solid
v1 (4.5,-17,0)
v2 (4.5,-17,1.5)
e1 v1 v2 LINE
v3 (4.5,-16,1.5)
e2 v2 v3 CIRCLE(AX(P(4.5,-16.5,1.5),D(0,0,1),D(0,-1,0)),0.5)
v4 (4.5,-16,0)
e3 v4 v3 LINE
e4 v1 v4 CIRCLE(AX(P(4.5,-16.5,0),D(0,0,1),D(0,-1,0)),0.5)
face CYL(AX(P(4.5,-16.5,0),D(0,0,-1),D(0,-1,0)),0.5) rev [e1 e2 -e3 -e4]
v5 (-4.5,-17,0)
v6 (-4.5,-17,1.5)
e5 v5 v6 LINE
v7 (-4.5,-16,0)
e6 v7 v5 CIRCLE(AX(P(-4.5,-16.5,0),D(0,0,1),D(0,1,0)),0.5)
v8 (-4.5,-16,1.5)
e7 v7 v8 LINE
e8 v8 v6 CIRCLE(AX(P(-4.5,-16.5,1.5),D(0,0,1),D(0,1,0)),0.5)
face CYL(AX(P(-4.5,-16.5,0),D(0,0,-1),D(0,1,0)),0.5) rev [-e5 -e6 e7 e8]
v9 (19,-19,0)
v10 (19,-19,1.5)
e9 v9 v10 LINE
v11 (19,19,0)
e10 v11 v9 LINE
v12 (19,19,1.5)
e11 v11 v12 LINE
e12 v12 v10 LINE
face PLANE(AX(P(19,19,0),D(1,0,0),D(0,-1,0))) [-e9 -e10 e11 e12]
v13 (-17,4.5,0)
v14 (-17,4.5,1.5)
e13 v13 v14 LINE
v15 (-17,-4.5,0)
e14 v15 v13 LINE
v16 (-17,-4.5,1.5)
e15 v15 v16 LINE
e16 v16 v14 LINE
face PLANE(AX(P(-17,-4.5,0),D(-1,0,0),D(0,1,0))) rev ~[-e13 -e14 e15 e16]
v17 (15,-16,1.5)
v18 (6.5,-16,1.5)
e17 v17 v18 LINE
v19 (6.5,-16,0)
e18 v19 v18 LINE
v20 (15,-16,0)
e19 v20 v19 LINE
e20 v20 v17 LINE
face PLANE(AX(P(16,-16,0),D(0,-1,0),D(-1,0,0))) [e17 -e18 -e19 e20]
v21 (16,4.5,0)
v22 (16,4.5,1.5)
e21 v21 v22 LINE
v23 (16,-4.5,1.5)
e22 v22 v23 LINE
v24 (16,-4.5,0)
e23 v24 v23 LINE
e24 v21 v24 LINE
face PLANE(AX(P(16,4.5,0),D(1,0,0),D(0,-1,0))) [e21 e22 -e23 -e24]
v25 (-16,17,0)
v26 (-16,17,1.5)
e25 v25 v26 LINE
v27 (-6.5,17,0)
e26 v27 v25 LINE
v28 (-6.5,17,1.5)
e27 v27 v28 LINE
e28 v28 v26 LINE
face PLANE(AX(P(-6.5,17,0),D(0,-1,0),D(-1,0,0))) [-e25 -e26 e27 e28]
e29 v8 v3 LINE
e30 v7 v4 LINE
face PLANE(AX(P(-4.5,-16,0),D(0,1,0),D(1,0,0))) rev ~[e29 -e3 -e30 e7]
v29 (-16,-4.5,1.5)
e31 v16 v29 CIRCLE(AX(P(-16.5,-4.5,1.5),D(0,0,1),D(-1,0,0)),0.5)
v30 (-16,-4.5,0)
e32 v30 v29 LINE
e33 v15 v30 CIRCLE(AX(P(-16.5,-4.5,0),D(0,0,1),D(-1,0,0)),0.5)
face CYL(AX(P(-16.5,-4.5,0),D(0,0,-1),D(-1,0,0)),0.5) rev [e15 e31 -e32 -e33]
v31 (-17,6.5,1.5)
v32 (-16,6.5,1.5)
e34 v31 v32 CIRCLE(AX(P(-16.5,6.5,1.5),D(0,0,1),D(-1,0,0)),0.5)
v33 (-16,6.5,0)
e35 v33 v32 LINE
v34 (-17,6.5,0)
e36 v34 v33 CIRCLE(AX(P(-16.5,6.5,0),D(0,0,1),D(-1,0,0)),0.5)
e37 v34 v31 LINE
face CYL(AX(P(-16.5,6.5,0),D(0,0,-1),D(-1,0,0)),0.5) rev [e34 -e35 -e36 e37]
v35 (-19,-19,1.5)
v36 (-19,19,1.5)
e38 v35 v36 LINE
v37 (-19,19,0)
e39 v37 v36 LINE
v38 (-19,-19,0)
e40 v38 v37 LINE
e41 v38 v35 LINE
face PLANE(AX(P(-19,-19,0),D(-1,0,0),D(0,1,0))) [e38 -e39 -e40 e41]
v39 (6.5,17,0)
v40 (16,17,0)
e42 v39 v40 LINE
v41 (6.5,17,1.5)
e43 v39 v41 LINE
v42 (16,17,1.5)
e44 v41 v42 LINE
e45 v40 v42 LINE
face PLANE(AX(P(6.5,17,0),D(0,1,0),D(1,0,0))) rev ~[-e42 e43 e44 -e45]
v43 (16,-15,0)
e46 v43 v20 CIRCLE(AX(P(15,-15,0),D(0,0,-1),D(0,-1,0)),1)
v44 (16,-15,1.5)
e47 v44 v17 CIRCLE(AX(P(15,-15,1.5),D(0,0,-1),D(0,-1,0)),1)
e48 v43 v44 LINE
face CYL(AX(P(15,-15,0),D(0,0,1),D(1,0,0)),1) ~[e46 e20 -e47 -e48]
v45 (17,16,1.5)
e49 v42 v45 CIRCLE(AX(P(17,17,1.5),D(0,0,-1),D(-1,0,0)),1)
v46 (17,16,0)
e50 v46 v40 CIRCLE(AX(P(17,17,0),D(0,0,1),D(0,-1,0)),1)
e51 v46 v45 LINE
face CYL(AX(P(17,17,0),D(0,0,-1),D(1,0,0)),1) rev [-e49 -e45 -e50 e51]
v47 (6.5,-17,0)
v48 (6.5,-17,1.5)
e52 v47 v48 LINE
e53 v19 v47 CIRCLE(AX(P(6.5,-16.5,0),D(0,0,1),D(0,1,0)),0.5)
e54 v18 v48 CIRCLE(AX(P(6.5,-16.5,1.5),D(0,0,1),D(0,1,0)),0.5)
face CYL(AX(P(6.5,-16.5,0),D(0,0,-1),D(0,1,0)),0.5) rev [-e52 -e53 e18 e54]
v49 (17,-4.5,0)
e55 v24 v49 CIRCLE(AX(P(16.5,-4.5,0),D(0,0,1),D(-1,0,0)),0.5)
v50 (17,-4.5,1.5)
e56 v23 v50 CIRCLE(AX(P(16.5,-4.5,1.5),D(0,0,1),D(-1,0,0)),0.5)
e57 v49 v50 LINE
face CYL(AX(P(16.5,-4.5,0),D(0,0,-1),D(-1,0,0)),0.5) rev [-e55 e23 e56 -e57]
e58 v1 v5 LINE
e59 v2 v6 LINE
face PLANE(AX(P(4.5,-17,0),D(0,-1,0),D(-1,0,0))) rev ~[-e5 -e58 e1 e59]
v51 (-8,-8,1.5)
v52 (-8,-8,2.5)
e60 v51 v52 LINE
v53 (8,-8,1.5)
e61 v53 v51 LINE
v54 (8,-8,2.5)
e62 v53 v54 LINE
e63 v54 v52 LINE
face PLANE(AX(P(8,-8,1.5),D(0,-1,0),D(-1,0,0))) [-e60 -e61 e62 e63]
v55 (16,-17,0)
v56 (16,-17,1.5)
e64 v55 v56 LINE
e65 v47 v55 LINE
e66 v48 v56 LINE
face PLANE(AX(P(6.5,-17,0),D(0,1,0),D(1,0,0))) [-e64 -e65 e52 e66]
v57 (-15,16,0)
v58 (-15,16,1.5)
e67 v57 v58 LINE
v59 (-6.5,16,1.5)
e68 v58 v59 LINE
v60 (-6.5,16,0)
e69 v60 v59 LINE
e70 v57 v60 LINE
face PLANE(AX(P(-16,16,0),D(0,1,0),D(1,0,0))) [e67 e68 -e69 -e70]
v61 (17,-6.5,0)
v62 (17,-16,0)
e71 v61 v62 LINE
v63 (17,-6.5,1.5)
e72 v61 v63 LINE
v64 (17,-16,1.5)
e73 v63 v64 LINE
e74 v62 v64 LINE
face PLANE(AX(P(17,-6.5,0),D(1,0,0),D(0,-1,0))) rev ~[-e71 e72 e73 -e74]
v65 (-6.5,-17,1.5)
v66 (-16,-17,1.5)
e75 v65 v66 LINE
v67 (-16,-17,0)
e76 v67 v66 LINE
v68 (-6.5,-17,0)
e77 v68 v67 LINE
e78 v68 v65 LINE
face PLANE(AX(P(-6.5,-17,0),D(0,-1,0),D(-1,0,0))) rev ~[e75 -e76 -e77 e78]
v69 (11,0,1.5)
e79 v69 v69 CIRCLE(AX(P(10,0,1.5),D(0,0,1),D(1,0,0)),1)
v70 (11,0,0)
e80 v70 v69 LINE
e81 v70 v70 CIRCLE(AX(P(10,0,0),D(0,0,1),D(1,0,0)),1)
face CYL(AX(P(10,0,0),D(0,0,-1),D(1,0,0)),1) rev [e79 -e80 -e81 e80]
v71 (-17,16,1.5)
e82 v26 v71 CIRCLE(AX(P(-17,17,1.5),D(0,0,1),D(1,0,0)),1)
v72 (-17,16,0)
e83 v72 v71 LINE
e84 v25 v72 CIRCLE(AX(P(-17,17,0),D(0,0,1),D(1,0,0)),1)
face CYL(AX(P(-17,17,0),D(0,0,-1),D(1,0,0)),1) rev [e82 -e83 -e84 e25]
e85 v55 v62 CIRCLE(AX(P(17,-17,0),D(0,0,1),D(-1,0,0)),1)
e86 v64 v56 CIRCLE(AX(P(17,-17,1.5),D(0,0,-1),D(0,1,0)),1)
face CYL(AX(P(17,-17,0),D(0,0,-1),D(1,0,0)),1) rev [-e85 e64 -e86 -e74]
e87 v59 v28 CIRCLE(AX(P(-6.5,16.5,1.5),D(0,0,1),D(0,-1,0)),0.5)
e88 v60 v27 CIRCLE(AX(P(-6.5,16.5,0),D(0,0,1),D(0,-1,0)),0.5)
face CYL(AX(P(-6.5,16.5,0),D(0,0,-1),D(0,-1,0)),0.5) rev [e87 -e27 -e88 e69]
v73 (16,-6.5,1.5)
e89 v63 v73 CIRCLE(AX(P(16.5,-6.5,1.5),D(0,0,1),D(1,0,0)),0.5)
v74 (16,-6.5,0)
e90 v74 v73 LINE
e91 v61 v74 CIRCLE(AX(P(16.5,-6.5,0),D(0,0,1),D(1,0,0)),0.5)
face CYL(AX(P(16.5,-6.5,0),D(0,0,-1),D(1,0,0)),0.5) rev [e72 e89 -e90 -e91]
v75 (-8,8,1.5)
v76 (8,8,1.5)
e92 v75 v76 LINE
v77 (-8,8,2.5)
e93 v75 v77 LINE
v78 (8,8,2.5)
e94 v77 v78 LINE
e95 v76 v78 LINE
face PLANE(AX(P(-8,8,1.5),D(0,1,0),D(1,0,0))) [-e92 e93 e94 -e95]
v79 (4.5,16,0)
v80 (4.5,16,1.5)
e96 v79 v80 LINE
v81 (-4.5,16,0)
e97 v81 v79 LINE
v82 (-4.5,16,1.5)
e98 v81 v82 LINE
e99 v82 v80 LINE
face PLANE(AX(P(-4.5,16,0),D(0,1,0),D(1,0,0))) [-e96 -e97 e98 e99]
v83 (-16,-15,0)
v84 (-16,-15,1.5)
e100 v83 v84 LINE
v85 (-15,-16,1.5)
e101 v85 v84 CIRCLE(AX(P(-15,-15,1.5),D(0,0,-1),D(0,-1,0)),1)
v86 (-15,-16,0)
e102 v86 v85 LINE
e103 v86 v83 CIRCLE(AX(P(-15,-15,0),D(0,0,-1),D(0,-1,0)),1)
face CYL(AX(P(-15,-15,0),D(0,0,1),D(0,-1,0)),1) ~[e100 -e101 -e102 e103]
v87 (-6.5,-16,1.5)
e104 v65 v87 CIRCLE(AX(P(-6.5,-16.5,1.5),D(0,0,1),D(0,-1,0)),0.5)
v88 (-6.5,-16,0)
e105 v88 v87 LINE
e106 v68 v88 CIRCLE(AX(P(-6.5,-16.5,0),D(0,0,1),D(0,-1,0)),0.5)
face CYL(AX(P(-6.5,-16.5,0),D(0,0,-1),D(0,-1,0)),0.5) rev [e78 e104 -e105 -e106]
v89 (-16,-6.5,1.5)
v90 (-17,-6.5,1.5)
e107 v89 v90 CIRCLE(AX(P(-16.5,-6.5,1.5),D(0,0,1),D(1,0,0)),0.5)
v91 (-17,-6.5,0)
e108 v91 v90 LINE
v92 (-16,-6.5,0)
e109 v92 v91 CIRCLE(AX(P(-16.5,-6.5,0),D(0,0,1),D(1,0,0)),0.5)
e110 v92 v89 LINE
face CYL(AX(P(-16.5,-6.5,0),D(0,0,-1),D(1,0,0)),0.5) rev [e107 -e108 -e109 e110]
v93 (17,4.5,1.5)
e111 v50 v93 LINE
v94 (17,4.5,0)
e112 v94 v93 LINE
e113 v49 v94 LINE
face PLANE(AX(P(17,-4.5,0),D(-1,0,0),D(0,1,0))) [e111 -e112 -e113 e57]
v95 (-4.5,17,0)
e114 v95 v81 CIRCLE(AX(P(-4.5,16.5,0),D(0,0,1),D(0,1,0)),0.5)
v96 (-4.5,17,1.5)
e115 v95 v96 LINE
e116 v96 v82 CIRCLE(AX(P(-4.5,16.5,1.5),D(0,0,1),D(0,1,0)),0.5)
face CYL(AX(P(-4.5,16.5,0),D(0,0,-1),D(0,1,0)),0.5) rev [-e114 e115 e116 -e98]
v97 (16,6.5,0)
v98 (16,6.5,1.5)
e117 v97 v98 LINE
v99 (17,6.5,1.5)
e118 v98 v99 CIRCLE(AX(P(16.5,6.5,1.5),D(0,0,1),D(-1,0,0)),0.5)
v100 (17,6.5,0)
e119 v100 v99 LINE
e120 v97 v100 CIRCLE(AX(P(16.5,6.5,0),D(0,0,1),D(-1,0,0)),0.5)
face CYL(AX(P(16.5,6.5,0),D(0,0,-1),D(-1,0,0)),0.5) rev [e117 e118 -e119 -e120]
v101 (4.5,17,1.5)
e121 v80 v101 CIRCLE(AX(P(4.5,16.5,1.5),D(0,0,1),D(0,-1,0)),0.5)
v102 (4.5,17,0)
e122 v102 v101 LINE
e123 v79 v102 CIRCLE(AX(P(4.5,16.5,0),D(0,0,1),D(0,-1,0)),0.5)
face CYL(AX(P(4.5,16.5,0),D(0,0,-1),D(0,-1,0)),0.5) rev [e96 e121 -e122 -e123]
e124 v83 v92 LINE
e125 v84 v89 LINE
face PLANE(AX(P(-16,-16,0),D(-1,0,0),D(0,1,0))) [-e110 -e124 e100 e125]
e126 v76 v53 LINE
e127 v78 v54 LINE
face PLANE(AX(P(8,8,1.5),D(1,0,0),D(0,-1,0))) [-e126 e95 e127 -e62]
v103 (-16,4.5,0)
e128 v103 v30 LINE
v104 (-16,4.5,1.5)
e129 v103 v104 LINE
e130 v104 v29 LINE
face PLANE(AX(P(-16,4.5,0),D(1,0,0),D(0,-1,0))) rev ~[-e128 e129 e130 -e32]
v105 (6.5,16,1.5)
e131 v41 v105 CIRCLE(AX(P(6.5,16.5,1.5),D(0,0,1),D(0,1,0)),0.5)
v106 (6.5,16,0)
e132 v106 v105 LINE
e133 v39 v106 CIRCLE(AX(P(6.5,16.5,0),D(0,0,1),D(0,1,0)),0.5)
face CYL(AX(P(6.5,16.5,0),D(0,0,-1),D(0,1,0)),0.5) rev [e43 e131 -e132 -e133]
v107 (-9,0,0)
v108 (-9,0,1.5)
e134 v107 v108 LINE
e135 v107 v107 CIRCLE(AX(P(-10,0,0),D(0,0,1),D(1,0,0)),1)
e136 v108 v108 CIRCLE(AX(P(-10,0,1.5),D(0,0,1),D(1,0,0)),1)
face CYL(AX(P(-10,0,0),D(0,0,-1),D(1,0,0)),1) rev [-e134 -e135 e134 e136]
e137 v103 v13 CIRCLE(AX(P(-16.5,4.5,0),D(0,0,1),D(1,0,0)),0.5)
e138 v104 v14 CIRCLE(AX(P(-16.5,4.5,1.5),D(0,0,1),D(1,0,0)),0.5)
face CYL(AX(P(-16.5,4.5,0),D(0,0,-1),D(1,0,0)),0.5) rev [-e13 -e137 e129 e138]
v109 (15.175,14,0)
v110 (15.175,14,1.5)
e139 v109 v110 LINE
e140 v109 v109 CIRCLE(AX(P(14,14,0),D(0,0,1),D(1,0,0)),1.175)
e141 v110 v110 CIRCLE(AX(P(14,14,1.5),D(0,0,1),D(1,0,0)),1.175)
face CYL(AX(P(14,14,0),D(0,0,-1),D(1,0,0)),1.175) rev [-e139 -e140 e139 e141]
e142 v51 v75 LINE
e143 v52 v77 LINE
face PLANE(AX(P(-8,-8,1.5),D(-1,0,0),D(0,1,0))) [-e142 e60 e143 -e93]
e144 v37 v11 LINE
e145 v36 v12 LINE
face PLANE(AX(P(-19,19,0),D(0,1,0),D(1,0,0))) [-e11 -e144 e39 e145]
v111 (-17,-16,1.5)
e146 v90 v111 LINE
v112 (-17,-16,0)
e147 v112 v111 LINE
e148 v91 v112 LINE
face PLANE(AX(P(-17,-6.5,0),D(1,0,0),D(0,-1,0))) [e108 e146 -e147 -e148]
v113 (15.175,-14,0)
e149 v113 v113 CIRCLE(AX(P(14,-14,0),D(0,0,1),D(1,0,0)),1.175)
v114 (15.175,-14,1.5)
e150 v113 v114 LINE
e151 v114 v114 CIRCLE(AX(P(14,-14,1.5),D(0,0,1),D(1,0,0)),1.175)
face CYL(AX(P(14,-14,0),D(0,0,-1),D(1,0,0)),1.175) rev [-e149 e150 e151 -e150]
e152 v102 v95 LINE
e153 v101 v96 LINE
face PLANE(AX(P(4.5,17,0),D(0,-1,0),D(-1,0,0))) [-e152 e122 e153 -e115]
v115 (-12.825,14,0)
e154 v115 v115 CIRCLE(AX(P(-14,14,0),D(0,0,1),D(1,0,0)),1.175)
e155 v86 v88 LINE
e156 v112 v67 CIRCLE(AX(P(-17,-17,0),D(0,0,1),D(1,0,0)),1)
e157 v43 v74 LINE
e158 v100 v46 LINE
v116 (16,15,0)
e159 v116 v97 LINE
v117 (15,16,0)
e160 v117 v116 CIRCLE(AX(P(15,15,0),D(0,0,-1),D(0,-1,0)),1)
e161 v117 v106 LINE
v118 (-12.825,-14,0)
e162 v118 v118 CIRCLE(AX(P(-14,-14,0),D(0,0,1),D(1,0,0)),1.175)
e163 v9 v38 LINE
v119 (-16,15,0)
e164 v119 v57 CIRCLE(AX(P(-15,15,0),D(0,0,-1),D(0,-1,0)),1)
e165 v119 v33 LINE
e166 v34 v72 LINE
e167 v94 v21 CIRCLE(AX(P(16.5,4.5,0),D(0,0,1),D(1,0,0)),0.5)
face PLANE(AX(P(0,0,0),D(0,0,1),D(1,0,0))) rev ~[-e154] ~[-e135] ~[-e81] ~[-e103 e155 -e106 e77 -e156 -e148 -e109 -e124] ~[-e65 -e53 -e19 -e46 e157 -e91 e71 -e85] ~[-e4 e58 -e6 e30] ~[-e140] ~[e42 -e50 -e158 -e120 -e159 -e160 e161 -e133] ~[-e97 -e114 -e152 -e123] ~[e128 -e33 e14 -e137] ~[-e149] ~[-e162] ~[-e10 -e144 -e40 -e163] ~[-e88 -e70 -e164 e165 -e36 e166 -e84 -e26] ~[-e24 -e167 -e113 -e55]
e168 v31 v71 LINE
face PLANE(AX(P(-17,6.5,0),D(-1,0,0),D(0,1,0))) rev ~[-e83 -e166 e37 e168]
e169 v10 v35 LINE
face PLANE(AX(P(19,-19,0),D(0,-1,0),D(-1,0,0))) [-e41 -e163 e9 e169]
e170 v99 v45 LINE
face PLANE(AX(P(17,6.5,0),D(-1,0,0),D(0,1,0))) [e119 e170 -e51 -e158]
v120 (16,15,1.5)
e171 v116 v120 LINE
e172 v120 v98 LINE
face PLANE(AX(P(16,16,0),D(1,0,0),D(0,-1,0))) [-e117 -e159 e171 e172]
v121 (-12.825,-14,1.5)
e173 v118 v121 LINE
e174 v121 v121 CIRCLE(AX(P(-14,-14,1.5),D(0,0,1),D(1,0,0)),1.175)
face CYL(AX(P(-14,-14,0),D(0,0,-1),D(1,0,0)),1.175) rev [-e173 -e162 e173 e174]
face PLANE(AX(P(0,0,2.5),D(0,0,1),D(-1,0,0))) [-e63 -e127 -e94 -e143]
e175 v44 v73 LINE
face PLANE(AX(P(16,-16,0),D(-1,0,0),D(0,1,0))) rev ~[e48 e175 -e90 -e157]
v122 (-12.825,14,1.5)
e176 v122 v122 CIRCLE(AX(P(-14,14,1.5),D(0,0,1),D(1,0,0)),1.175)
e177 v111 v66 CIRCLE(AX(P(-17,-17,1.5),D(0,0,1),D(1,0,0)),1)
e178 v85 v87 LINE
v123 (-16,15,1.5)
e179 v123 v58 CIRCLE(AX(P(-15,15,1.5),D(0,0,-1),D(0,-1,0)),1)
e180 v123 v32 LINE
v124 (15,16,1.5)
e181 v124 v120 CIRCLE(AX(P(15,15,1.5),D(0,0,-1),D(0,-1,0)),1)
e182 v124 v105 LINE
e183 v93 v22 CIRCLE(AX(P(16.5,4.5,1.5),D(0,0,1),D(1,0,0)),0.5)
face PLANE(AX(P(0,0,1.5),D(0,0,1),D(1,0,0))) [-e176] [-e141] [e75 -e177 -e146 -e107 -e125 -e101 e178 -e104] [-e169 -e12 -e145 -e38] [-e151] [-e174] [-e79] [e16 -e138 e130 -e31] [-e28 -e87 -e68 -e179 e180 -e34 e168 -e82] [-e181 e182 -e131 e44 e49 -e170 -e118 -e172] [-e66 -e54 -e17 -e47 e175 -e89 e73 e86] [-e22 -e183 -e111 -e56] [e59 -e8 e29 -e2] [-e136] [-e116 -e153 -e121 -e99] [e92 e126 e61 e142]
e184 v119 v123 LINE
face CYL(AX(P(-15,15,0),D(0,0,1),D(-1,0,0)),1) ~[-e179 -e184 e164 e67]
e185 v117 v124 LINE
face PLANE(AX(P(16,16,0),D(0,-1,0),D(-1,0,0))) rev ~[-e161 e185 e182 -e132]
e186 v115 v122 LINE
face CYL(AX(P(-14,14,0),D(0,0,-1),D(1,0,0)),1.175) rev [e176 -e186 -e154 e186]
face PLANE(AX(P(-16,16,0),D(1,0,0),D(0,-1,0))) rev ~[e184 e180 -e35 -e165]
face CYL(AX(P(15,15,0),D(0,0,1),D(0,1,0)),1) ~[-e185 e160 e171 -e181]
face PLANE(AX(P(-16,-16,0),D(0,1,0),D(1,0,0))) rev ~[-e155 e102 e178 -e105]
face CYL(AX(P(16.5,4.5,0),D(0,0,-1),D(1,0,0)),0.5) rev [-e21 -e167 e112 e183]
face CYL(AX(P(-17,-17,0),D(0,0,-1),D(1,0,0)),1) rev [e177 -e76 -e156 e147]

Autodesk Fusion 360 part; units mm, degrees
sketch "Skizze1" plane through (0, 0, 0) normal (0, 0, 1) x (1, 0, 0)
  line L0 (-19, 19) -> (19, 19)
  line L1 (19, 19) -> (19, -19)
  line L2 (19, -19) -> (-19, -19)
  line L3 (-19, -19) -> (-19, 19)
  circle A0 centre (-14, 14) radius 1.175
  line L4 (0, 19) -> (0, -19) construction
  line L5 (-19, 0) -> (19, 0) construction
  circle A1 centre (14, 14) radius 1.175
  circle A2 centre (-14, -14) radius 1.175
  circle A3 centre (14, -14) radius 1.175
  circle A4 centre (-17, 17) radius 1
  circle A5 centre (17, 17) radius 1
  circle A6 centre (-17, -17) radius 1
  circle A7 centre (17, -17) radius 1
  circle A8 centre (-10, 0) radius 1
  circle A9 centre (10, 0) radius 1
  line L6 (-17, 16.5) -> (-6.5, 16.5) construction
  line L7 (-4.5, 16.5) -> (4.5, 16.5) construction
  line L8 (-4.5, 16) -> (4.5, 16)
  arc A10 (4.5, 16) -> (4.5, 17) centre (4.5, 16.5) ccw
  line L9 (4.5, 17) -> (-4.5, 17)
  arc A11 (-4.5, 17) -> (-4.5, 16) centre (-4.5, 16.5) ccw
  line L10 (-4.5, 16.5) -> (4.5, 16.5) construction
  line L11 (-6.5, 17) -> (-17, 17)
  arc A12 (-17, 17) -> (-17, 16) centre (-17, 16.5) ccw
  line L12 (-17, 16) -> (-6.5, 16)
  arc A13 (-6.5, 16) -> (-6.5, 17) centre (-6.5, 16.5) ccw
  line L13 (-6.5, 16.5) -> (-17, 16.5) construction
  line L14 (-19, 19) -> (19, -19) construction
  line L15 (6.5, 17) -> (17, 17)
  arc A14 (17, 16) -> (17, 17) centre (17, 16.5) ccw
  arc A15 (6.5, 17) -> (6.5, 16) centre (6.5, 16.5) ccw
  line L16 (17, 16) -> (6.5, 16)
  line L17 (-6.5, -17) -> (-17, -17)
  arc A16 (-17, -16) -> (-17, -17) centre (-17, -16.5) ccw
  arc A17 (-6.5, -17) -> (-6.5, -16) centre (-6.5, -16.5) ccw
  line L18 (4.5, -17) -> (-4.5, -17)
  arc A18 (-4.5, -16) -> (-4.5, -17) centre (-4.5, -16.5) ccw
  arc A19 (4.5, -17) -> (4.5, -16) centre (4.5, -16.5) ccw
  arc A20 (6.5, -16) -> (6.5, -17) centre (6.5, -16.5) ccw
  line L19 (6.5, -17) -> (17, -17)
  arc A21 (17, -17) -> (17, -16) centre (17, -16.5) ccw
  line L20 (17, -16) -> (6.5, -16)
  line L21 (-4.5, -16) -> (4.5, -16)
  line L22 (-17, -16) -> (-6.5, -16)
  line L23 (-17, -4.5) -> (-17, 4.5)
  arc A22 (-16, 4.5) -> (-17, 4.5) centre (-16.5, 4.5) ccw
  arc A23 (-17, -4.5) -> (-16, -4.5) centre (-16.5, -4.5) ccw
  line L24 (-16, 4.5) -> (-16, -4.5)
  arc A24 (17, 4.5) -> (16, 4.5) centre (16.5, 4.5) ccw
  line L25 (16, 4.5) -> (16, -4.5)
  arc A25 (16, -4.5) -> (17, -4.5) centre (16.5, -4.5) ccw
  line L26 (17, -4.5) -> (17, 4.5)
  line L27 (-17, 6.5) -> (-17, 17)
  arc A26 (-16, 17) -> (-17, 17) centre (-16.5, 17) ccw
  arc A27 (-17, 6.5) -> (-16, 6.5) centre (-16.5, 6.5) ccw
  line L28 (-16, 17) -> (-16, 6.5)
  arc A28 (-16, -6.5) -> (-17, -6.5) centre (-16.5, -6.5) ccw
  line L29 (-17, -6.5) -> (-17, -17)
  arc A29 (-17, -17) -> (-16, -17) centre (-16.5, -17) ccw
  line L30 (-16, -17) -> (-16, -6.5)
  arc A30 (17, 17) -> (16, 17) centre (16.5, 17) ccw
  line L31 (16, 17) -> (16, 6.5)
  arc A31 (16, 6.5) -> (17, 6.5) centre (16.5, 6.5) ccw
  line L32 (17, 6.5) -> (17, 17)
  line L33 (16, -17) -> (16, -6.5)
  arc A32 (17, -6.5) -> (16, -6.5) centre (16.5, -6.5) ccw
  arc A33 (16, -17) -> (17, -17) centre (16.5, -17) ccw
  line L34 (17, -6.5) -> (17, -17)
  dimension "d1" = 38
  dimension "d2" = 38
  dimension "d3" = 2.35
  dimension "d6" = 28
  dimension "d7" = 28
  dimension "d8" = 2
  dimension "d9" = 34
  dimension "d10" = 34
  dimension "d17" = 2
  dimension "d18" = 20
  dimension "d20" = 9
  dimension "d21" = 1
  dimension "d22" = 2
  dimension "d23" = 2.5
  dimension "d24" = 1
  dimension "d25" = 2
extrude "Extrusion1" add sketch "Skizze1" along normal blind 1.5
fillet "Abrundung1" radius 1 4 edges at (-16, -16, 0.75) (16, -16, 0.75) (16, 16, 0.75) (-16, 16, 0.75)
sketch "Skizze2" plane through (0, 0, 1.5) normal (0, 0, 1) x (-1, 0, 0)
  circle A0 centre (14, -14) radius 1.175
  circle A1 centre (-14, 14) radius 1.175
  circle A2 centre (14, 14) radius 1.175
  circle A3 centre (-14, -14) radius 1.175
  line L0 (19, 19) -> (-19, 19)
  line L1 (-19, 19) -> (-19, -19)
  line L2 (-19, -19) -> (19, -19)
  line L3 (19, -19) -> (19, 19)
  line L4 (8, -8) -> (-8, -8)
  line L5 (-8, -8) -> (-8, 8)
  line L6 (-8, 8) -> (8, 8)
  line L7 (8, 8) -> (8, -8)
  line L8 (0, -19) -> (0, 19) construction
  line L9 (19, 0) -> (-19, 0) construction
  circle A4 centre (10, 0) radius 1
  circle A5 centre (-10, 0) radius 1
  line L10 (-17, -4.5) -> (-17, 4.5)
  arc A6 (-16, 4.5) -> (-17, 4.5) centre (-16.5, 4.5) ccw
  line L11 (-16, 4.5) -> (-16, -4.5)
  arc A7 (-17, -4.5) -> (-16, -4.5) centre (-16.5, -4.5) ccw
  line L12 (-6.5, 16) -> (-15, 16)
  line L13 (-16, 15) -> (-16, 6.5)
  arc A8 (-17, 6.5) -> (-16, 6.5) centre (-16.5, 6.5) ccw
  line L14 (-17, 6.5) -> (-17, 16)
  arc A9 (-16, 17) -> (-17, 16) centre (-17, 17) ccw
  line L15 (-16, 17) -> (-6.5, 17)
  arc A10 (-6.5, 16) -> (-6.5, 17) centre (-6.5, 16.5) ccw
  arc A11 (-4.5, 17) -> (-4.5, 16) centre (-4.5, 16.5) ccw
  line L16 (-4.5, 17) -> (4.5, 17)
  arc A12 (4.5, 16) -> (4.5, 17) centre (4.5, 16.5) ccw
  line L17 (4.5, 16) -> (-4.5, 16)
  line L18 (-16, -6.5) -> (-16, -15)
  line L19 (-15, -16) -> (-6.5, -16)
  arc A13 (-6.5, -17) -> (-6.5, -16) centre (-6.5, -16.5) ccw
  line L20 (-6.5, -17) -> (-16, -17)
  arc A14 (-17, -16) -> (-16, -17) centre (-17, -17) ccw
  line L21 (-17, -16) -> (-17, -6.5)
  arc A15 (-16, -6.5) -> (-17, -6.5) centre (-16.5, -6.5) ccw
  line L22 (16, 6.5) -> (16, 15)
  line L23 (15, 16) -> (6.5, 16)
  arc A16 (6.5, 17) -> (6.5, 16) centre (6.5, 16.5) ccw
  line L24 (6.5, 17) -> (16, 17)
  arc A17 (17, 16) -> (16, 17) centre (17, 17) ccw
  line L25 (17, 16) -> (17, 6.5)
  arc A18 (16, 6.5) -> (17, 6.5) centre (16.5, 6.5) ccw
  arc A19 (17, 4.5) -> (16, 4.5) centre (16.5, 4.5) ccw
  line L26 (17, 4.5) -> (17, -4.5)
  arc A20 (16, -4.5) -> (17, -4.5) centre (16.5, -4.5) ccw
  line L27 (16, -4.5) -> (16, 4.5)
  arc A21 (4.5, -17) -> (4.5, -16) centre (4.5, -16.5) ccw
  line L28 (4.5, -17) -> (-4.5, -17)
  arc A22 (-4.5, -16) -> (-4.5, -17) centre (-4.5, -16.5) ccw
  line L29 (-4.5, -16) -> (4.5, -16)
  line L30 (6.5, -16) -> (15, -16)
  line L31 (16, -15) -> (16, -6.5)
  arc A23 (17, -6.5) -> (16, -6.5) centre (16.5, -6.5) ccw
  line L32 (17, -6.5) -> (17, -16)
  arc A24 (16, -17) -> (17, -16) centre (17, -17) ccw
  line L33 (16, -17) -> (6.5, -17)
  arc A25 (6.5, -16) -> (6.5, -17) centre (6.5, -16.5) ccw
  arc A26 (15, -16) -> (16, -15) centre (15, -15) ccw
  arc A27 (-16, -15) -> (-15, -16) centre (-15, -15) ccw
  arc A28 (-15, 16) -> (-16, 15) centre (-15, 15) ccw
  arc A29 (16, 15) -> (15, 16) centre (15, 15) ccw
  dimension "d13" = 16
  dimension "d14" = 16
extrude "Extrusion2" add sketch "Skizze2" along normal blind 1 contours L4 L5 L6 L7
sketch "Skizze3" plane through (0, 0, 0) normal (0, 0, -1) x (1, 0, 0)
  circle A0 centre (-14, 14) radius 1.175
  arc A1 (-4.5, -16) -> (-4.5, -17) centre (-4.5, -16.5) ccw
  line L0 (-4.5, -16) -> (4.5, -16)
  arc A2 (4.5, -17) -> (4.5, -16) centre (4.5, -16.5) ccw
  line L1 (4.5, -17) -> (-4.5, -17)
  circle A3 centre (-14, -14) radius 1.175
  circle A4 centre (14, -14) radius 1.175
  line L2 (-16, 15) -> (-16, 6.5)
  arc A5 (-17, 6.5) -> (-16, 6.5) centre (-16.5, 6.5) ccw
  line L3 (-17, 6.5) -> (-17, 16)
  arc A6 (-16, 17) -> (-17, 16) centre (-17, 17) ccw
  line L4 (-16, 17) -> (-6.5, 17)
  arc A7 (-6.5, 16) -> (-6.5, 17) centre (-6.5, 16.5) ccw
  line L5 (-6.5, 16) -> (-15, 16)
  circle A8 centre (-10, 0) radius 1
  line L6 (-15, -16) -> (-6.5, -16)
  arc A9 (-6.5, -17) -> (-6.5, -16) centre (-6.5, -16.5) ccw
  line L7 (-6.5, -17) -> (-16, -17)
  arc A10 (-17, -16) -> (-16, -17) centre (-17, -17) ccw
  line L8 (-17, -16) -> (-17, -6.5)
  arc A11 (-16, -6.5) -> (-17, -6.5) centre (-16.5, -6.5) ccw
  line L9 (-16, -6.5) -> (-16, -15)
  arc A12 (-16, 4.5) -> (-17, 4.5) centre (-16.5, 4.5) ccw
  line L10 (-16, 4.5) -> (-16, -4.5)
  arc A13 (-17, -4.5) -> (-16, -4.5) centre (-16.5, -4.5) ccw
  line L11 (-17, -4.5) -> (-17, 4.5)
  line L12 (15, 16) -> (6.5, 16)
  arc A14 (6.5, 17) -> (6.5, 16) centre (6.5, 16.5) ccw
  line L13 (6.5, 17) -> (16, 17)
  arc A15 (17, 16) -> (16, 17) centre (17, 17) ccw
  line L14 (17, 16) -> (17, 6.5)
  arc A16 (16, 6.5) -> (17, 6.5) centre (16.5, 6.5) ccw
  line L15 (16, 6.5) -> (16, 15)
  line L16 (16, -15) -> (16, -6.5)
  arc A17 (17, -6.5) -> (16, -6.5) centre (16.5, -6.5) ccw
  line L17 (17, -6.5) -> (17, -16)
  arc A18 (16, -17) -> (17, -16) centre (17, -17) ccw
  line L18 (16, -17) -> (6.5, -17)
  arc A19 (6.5, -16) -> (6.5, -17) centre (6.5, -16.5) ccw
  line L19 (6.5, -16) -> (15, -16)
  arc A20 (4.5, 16) -> (4.5, 17) centre (4.5, 16.5) ccw
  line L20 (4.5, 16) -> (-4.5, 16)
  arc A21 (-4.5, 17) -> (-4.5, 16) centre (-4.5, 16.5) ccw
  line L21 (-4.5, 17) -> (4.5, 17)
  circle A22 centre (14, 14) radius 1.175
  line L22 (17, 4.5) -> (17, -4.5)
  arc A23 (16, -4.5) -> (17, -4.5) centre (16.5, -4.5) ccw
  line L23 (16, -4.5) -> (16, 4.5)
  arc A24 (17, 4.5) -> (16, 4.5) centre (16.5, 4.5) ccw
  circle A25 centre (10, 0) radius 1
  line L24 (19, 19) -> (-19, 19)
  line L25 (-19, 19) -> (-19, -19)
  line L26 (-19, -19) -> (19, -19)
  line L27 (19, -19) -> (19, 19)
  arc A26 (-15, 16) -> (-16, 15) centre (-15, 15) ccw
  arc A27 (-16, -15) -> (-15, -16) centre (-15, -15) ccw
  arc A28 (16, 15) -> (15, 16) centre (15, 15) ccw
  arc A29 (15, -16) -> (16, -15) centre (15, -15) ccw
